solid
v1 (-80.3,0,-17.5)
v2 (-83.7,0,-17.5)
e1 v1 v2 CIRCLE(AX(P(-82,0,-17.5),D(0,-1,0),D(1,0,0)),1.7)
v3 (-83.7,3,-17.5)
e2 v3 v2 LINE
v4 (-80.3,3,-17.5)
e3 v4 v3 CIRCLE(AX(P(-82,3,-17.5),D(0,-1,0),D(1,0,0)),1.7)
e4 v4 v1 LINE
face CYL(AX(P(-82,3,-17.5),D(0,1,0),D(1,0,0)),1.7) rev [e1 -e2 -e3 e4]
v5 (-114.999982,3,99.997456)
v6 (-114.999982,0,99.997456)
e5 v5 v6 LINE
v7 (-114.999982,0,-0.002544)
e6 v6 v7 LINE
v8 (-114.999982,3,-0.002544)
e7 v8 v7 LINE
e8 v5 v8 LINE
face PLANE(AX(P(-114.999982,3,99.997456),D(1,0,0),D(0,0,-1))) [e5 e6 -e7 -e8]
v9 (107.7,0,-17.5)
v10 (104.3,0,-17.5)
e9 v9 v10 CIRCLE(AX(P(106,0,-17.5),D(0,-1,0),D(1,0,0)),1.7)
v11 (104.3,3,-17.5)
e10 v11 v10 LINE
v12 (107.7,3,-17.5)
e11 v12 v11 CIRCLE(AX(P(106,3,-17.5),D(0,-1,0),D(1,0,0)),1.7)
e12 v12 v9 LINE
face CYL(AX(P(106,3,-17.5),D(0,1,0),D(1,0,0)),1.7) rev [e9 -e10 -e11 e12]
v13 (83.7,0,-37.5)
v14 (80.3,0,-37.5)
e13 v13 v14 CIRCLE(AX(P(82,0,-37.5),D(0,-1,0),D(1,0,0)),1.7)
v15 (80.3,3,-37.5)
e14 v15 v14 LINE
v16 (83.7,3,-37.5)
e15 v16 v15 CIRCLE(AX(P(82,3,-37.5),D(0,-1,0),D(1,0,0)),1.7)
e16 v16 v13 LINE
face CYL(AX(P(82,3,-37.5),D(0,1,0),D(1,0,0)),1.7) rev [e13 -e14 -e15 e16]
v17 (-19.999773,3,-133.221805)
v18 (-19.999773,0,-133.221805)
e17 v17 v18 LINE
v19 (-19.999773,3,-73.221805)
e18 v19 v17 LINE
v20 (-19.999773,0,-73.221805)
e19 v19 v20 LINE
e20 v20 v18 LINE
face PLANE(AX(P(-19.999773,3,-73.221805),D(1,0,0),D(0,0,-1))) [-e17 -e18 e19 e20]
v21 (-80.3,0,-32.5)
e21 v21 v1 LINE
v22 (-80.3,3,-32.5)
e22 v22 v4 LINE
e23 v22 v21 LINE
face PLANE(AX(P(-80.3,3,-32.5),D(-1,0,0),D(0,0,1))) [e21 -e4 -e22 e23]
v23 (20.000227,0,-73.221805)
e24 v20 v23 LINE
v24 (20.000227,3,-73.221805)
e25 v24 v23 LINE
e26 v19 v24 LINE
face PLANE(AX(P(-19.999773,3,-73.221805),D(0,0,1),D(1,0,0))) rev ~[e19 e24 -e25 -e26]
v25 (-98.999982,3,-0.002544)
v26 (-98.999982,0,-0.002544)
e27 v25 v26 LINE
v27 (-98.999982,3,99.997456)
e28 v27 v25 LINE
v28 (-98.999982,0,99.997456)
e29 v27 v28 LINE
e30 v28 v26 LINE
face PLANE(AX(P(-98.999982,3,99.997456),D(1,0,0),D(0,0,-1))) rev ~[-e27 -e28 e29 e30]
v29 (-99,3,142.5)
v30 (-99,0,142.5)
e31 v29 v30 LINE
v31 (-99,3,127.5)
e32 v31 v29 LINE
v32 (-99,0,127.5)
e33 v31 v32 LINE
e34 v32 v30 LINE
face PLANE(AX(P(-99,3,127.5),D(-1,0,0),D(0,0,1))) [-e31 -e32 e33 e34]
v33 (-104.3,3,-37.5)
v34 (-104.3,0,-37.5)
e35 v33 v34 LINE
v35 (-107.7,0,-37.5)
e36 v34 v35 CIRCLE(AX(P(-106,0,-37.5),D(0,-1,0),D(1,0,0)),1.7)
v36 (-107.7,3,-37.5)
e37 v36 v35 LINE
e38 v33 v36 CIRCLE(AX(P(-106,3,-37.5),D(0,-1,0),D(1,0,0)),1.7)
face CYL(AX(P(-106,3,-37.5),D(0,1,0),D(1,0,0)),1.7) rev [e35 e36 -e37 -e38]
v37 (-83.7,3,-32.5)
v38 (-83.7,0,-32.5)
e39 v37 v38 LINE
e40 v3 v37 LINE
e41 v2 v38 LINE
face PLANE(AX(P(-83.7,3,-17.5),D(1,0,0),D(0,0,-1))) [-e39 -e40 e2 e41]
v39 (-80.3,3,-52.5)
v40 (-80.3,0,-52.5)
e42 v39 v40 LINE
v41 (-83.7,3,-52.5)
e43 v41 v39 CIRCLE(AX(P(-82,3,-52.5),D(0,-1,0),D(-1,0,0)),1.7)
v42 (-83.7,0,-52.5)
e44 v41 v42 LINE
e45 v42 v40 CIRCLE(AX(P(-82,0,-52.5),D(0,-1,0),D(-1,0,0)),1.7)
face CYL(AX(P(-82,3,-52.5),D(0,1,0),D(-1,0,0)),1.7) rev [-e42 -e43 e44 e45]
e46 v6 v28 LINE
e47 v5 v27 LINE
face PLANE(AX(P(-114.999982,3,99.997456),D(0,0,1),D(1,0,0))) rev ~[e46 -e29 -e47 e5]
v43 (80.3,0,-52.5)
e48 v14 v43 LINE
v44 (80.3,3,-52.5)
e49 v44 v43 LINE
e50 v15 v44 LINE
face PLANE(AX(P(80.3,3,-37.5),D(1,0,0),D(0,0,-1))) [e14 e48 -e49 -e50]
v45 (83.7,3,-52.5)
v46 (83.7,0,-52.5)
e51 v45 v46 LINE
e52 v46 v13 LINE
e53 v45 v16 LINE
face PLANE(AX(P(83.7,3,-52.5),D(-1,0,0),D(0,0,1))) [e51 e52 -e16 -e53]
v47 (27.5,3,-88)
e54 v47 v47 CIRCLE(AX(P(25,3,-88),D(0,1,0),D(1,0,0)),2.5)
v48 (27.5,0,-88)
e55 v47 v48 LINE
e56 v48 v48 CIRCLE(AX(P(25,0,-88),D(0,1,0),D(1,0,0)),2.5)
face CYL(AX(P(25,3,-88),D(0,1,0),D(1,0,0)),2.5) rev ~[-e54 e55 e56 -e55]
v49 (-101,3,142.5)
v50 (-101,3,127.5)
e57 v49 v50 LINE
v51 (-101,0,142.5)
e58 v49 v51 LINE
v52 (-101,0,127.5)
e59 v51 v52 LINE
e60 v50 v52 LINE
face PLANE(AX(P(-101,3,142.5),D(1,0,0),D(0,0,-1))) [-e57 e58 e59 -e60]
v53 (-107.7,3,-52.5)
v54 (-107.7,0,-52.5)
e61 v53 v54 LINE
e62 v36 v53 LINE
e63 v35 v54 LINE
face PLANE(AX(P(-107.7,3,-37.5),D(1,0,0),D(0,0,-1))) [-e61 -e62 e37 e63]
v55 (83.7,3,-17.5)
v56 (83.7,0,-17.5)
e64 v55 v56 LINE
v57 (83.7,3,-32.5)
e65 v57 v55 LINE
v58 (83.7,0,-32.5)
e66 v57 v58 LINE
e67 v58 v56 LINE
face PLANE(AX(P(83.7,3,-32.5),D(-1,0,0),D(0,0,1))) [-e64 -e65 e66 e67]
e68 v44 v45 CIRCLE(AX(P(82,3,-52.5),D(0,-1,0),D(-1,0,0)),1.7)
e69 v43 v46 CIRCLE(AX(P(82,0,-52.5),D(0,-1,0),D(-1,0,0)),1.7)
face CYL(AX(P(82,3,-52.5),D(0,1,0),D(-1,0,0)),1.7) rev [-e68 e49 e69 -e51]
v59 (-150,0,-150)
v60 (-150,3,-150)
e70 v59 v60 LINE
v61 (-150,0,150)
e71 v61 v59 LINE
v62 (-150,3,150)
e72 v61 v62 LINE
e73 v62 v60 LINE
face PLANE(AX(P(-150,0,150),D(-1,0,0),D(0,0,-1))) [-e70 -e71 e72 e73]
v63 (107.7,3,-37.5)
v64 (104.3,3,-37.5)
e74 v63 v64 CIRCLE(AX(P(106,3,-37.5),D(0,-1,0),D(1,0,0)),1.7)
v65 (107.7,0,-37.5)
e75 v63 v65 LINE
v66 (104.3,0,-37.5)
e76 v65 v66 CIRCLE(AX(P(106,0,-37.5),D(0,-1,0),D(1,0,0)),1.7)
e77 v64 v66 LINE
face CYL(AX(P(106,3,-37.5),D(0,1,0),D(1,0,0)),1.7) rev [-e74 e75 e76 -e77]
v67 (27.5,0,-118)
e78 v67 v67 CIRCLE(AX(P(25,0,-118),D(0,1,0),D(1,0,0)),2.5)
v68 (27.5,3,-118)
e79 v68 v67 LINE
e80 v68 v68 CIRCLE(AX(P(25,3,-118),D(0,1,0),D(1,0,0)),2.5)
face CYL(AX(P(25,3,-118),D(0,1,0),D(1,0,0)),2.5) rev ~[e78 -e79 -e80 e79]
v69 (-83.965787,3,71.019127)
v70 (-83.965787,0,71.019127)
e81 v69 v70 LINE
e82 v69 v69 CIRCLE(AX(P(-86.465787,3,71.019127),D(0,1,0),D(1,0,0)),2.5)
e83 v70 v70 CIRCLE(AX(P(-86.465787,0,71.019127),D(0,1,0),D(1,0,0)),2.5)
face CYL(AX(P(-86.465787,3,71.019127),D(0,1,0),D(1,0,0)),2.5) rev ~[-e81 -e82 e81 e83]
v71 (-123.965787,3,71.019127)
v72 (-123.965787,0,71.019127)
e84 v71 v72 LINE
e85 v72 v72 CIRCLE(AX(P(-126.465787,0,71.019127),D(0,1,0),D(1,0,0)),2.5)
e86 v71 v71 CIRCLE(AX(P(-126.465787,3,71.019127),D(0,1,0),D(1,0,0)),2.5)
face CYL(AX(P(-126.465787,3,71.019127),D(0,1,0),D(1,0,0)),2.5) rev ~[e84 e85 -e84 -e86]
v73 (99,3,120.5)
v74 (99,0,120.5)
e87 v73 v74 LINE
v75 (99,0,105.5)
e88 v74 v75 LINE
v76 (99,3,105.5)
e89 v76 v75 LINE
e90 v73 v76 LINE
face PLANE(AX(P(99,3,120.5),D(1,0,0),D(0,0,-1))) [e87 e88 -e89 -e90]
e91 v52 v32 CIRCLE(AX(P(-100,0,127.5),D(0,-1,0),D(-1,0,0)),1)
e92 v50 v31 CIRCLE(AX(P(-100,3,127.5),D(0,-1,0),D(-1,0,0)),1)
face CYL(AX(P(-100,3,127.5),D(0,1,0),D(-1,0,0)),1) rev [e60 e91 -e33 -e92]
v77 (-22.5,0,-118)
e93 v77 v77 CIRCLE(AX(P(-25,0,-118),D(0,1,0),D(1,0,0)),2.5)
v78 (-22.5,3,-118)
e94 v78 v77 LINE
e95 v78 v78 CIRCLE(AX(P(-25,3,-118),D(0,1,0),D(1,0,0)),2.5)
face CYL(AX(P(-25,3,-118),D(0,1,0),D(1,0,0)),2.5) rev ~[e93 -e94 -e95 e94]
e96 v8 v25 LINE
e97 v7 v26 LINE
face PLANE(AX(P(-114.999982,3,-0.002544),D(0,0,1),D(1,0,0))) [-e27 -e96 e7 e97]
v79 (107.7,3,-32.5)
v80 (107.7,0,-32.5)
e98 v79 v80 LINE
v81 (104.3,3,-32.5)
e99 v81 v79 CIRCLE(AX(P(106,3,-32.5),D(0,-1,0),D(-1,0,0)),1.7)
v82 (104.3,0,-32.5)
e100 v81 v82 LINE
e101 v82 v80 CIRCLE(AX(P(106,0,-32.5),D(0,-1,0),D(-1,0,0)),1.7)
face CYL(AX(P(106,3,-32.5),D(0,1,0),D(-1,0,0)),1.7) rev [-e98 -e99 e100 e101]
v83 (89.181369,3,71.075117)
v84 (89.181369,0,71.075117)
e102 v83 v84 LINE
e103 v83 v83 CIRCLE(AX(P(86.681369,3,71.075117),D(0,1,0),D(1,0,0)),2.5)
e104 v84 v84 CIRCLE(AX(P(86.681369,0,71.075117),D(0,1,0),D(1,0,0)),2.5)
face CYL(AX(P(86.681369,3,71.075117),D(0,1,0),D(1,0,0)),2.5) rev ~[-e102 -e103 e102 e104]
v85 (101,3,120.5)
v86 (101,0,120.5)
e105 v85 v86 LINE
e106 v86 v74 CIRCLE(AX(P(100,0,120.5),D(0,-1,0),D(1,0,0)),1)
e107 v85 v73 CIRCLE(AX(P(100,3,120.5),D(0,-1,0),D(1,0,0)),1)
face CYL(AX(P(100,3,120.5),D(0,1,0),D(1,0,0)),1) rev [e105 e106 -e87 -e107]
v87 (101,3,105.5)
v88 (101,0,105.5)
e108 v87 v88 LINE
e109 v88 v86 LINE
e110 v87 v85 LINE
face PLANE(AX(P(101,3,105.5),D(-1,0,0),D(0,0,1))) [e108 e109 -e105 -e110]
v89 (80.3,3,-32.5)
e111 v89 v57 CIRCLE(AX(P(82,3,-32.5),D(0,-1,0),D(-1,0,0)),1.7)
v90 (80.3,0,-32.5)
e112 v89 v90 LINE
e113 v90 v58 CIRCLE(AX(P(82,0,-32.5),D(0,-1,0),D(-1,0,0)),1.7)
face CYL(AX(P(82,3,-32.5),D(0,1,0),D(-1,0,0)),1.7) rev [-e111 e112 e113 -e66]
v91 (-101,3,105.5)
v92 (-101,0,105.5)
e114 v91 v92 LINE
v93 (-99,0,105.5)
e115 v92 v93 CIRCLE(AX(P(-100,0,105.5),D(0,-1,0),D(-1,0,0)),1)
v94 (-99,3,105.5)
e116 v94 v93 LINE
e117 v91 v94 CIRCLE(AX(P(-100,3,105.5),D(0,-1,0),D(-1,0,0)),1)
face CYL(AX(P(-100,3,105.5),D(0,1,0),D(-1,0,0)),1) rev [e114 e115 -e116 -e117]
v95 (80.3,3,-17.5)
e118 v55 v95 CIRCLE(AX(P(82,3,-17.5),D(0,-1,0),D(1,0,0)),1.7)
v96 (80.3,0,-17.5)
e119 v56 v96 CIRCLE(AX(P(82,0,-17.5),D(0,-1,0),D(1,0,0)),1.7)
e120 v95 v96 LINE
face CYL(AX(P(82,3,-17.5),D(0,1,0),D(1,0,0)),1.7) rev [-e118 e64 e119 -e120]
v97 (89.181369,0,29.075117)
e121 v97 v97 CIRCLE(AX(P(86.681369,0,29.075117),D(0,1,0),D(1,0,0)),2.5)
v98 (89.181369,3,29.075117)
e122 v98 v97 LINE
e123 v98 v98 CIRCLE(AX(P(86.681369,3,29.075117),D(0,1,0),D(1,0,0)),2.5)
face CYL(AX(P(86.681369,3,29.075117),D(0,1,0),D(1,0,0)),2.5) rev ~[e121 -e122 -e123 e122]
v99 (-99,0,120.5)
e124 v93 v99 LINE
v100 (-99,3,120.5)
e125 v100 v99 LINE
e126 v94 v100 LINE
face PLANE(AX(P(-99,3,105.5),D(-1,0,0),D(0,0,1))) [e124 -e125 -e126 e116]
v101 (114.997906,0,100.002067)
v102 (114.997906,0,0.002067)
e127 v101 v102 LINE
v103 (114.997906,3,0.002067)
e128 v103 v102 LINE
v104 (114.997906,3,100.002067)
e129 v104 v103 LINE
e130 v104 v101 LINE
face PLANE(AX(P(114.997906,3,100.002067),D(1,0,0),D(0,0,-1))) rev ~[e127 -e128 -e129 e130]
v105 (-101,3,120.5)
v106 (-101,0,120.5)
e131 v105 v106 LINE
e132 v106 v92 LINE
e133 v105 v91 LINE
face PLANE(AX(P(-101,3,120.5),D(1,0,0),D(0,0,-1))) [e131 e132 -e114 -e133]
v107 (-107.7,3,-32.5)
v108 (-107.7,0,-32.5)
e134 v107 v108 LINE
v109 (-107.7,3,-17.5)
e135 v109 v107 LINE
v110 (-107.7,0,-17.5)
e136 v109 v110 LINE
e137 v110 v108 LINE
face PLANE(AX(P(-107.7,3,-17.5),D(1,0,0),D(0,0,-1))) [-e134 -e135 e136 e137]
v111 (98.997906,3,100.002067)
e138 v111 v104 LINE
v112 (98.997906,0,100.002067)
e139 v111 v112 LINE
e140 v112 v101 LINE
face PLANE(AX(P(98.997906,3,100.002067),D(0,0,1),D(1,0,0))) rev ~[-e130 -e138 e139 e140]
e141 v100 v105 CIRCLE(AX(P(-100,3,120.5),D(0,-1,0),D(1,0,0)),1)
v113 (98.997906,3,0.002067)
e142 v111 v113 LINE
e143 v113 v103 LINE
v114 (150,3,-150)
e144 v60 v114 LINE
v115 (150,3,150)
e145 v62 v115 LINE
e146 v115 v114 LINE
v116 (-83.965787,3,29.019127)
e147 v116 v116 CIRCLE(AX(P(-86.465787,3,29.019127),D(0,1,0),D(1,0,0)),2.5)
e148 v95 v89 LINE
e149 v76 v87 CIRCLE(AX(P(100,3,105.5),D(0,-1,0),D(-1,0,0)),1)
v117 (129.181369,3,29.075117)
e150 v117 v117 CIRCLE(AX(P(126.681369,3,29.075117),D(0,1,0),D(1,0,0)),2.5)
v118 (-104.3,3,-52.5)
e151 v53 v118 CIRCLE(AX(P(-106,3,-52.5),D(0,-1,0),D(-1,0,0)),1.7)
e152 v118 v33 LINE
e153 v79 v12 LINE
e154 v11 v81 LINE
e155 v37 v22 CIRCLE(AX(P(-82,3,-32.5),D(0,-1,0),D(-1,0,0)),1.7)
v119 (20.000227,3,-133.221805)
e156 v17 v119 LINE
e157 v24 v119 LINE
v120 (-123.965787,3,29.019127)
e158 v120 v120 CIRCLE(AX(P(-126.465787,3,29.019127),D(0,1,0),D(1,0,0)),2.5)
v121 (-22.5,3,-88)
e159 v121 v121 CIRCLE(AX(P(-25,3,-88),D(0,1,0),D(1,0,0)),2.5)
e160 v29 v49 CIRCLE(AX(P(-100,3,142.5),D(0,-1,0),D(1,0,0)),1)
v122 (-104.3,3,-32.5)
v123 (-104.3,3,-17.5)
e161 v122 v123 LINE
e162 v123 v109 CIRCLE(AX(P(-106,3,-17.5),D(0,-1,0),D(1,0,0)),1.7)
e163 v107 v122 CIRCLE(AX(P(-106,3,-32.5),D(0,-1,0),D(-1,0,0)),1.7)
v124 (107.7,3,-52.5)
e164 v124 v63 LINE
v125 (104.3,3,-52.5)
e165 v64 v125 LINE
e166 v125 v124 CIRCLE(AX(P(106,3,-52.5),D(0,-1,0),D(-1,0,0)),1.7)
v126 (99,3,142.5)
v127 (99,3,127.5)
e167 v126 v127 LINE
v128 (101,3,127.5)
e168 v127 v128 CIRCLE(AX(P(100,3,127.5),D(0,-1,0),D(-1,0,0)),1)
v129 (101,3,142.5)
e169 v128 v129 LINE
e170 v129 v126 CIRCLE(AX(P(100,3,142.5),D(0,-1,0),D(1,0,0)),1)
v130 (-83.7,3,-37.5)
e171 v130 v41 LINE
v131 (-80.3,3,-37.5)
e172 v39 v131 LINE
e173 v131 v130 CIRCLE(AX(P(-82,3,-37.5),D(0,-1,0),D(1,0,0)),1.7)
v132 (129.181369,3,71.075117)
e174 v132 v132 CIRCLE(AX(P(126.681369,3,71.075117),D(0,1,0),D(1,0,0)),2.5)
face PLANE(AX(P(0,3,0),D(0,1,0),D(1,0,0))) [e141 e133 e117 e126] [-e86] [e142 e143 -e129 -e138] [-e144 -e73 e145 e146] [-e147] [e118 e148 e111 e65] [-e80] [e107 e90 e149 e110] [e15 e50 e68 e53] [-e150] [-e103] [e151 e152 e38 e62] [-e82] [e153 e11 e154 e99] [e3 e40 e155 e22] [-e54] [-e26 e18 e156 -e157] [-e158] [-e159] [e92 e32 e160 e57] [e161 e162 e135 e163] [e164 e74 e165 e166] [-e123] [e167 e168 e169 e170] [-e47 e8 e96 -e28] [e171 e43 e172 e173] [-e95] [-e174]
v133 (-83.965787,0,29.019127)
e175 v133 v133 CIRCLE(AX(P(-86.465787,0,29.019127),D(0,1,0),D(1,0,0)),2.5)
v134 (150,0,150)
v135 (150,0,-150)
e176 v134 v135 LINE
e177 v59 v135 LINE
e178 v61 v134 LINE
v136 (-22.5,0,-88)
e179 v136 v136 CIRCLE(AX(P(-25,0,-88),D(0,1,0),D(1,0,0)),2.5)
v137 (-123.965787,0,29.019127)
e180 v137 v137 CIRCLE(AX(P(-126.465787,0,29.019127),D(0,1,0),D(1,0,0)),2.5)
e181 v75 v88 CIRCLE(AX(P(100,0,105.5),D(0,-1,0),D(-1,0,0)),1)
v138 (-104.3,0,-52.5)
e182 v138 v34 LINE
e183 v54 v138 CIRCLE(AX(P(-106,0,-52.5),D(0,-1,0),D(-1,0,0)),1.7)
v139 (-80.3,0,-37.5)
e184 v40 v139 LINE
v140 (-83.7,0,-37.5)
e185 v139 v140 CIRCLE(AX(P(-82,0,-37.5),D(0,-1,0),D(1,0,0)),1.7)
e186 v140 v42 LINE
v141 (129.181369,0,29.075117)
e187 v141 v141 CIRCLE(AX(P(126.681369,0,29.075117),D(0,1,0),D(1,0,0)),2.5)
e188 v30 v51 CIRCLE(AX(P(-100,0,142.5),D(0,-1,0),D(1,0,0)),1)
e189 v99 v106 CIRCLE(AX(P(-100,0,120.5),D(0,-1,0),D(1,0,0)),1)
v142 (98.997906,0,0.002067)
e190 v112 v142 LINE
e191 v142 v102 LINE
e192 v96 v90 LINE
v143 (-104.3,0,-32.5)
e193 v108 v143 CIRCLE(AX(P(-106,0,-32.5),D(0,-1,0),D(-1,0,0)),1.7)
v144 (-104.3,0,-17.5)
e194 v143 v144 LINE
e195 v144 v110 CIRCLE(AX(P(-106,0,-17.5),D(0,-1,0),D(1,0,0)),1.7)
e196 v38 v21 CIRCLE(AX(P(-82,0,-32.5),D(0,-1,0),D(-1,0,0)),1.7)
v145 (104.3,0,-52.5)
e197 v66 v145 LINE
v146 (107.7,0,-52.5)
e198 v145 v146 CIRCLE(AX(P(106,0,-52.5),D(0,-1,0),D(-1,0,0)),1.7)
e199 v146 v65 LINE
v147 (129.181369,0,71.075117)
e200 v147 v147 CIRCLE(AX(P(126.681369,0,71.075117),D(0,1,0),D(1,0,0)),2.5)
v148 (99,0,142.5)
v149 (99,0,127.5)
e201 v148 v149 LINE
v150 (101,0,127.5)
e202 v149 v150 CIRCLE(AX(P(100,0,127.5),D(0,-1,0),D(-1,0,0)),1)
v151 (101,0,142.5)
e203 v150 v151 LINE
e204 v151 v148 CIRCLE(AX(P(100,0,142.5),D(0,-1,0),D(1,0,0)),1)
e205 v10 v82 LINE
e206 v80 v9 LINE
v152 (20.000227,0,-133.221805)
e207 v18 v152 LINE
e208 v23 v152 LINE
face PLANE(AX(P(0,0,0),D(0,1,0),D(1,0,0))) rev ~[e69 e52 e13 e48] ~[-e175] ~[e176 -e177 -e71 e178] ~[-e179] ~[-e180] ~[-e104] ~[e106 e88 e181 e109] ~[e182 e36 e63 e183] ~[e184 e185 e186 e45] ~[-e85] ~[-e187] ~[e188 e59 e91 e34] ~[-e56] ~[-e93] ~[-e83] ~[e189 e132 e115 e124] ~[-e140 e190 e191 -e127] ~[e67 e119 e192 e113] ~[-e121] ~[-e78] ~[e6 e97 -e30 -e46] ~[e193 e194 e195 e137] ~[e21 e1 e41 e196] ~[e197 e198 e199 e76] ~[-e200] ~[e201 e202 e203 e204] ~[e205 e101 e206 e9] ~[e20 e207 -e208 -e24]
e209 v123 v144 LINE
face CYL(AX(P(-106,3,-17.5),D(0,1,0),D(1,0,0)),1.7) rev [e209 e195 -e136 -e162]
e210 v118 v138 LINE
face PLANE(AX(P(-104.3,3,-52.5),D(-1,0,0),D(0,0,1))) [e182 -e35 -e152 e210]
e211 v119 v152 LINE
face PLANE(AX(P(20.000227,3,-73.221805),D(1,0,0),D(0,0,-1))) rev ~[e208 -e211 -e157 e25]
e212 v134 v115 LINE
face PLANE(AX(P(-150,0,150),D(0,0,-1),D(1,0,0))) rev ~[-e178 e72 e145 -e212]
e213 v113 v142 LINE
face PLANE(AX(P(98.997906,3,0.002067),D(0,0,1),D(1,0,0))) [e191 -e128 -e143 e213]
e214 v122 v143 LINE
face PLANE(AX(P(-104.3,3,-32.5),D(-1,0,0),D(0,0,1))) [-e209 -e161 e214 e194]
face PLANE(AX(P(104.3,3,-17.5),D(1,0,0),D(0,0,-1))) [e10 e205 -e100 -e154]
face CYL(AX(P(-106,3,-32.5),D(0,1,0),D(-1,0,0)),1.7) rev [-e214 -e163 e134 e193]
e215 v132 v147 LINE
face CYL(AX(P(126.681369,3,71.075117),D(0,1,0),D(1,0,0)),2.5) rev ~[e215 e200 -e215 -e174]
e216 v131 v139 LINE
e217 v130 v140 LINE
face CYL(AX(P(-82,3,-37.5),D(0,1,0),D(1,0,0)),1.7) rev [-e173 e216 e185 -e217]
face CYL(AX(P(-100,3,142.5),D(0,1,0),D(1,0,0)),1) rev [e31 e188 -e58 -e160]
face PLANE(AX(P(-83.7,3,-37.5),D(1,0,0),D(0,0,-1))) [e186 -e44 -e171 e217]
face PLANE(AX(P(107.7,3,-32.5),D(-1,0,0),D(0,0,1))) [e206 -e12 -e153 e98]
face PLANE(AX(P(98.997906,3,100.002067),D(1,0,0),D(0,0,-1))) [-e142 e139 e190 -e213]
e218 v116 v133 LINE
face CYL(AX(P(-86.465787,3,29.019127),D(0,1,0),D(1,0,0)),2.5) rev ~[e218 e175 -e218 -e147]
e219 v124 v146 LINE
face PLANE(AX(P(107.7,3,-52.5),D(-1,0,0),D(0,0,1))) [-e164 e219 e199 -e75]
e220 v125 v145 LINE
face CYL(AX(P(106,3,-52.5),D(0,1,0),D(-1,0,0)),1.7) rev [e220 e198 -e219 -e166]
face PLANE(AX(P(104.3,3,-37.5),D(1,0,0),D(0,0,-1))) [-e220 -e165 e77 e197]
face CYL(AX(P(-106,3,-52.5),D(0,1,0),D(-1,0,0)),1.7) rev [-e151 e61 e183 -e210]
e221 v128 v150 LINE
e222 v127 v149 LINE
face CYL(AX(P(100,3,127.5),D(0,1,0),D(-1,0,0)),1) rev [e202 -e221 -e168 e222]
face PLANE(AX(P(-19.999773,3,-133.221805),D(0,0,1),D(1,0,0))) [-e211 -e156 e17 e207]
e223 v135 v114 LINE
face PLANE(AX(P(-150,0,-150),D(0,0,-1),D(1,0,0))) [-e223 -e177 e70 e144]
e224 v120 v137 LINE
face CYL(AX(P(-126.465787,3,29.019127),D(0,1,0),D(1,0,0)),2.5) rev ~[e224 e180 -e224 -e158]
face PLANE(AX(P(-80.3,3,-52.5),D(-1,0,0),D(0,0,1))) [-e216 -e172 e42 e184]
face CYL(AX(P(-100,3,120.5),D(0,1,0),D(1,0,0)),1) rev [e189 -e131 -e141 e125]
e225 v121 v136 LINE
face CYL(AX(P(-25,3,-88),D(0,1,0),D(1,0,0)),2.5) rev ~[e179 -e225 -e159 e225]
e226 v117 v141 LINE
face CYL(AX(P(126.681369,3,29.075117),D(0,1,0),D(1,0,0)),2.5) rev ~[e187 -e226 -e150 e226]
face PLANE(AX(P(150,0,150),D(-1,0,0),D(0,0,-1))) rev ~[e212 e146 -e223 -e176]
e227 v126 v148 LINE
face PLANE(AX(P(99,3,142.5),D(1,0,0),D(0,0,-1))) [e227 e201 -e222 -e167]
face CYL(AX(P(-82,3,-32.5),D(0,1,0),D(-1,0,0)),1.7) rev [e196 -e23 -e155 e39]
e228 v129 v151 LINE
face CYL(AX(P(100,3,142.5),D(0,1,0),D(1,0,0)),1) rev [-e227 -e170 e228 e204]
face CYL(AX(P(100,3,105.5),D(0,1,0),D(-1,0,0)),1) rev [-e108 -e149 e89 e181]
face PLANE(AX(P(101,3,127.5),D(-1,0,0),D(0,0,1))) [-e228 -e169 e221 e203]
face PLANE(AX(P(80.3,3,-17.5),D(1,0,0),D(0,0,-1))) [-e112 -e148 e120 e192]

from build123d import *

# Parameters (mm, degrees)
SKETCH1_W           = 300
SKETCH1_H           = 300
BOSS_EXTRUDE1_DEPTH = 3
SKETCH2_W           = 16
SKETCH2_H           = 100
CUT_EXTRUDE2_DEPTH  = 3
SKETCH3_W           = 16
SKETCH3_H           = 100
CUT_EXTRUDE3_DEPTH  = 3
SKETCH5_W           = 40
SKETCH5_H           = 60
CUT_EXTRUDE4_DEPTH  = 3
SKETCH6_R           = 2.5
CUT_EXTRUDE5_DEPTH  = 3
CUT_EXTRUDE6_DEPTH  = 3
CUT_EXTRUDE7_DEPTH  = 3


with BuildPart() as part:
    # Sketch1 → Boss-Extrude1 (new body)
    with BuildSketch(Plane(origin=(0, 0, 0), x_dir=(1, 0, 0), z_dir=(0, 1, 0))):
        Rectangle(SKETCH1_W, SKETCH1_H)
    extrude(amount=BOSS_EXTRUDE1_DEPTH)

    # Sketch2 → Cut-Extrude2 (cut)
    with BuildSketch(Plane(origin=(0, 3, 0), x_dir=(1, 0, 0), z_dir=(0, 1, 0))):
        with Locations((-106.999981758, -49.997456266)):
            Rectangle(SKETCH2_W, SKETCH2_H)
    extrude(amount=-CUT_EXTRUDE2_DEPTH, mode=Mode.SUBTRACT)

    # Sketch3 → Cut-Extrude3 (cut)
    with BuildSketch(Plane(origin=(0, 3, 0), x_dir=(1, 0, 0), z_dir=(0, 1, 0))):
        with Locations((106.997905593, -50.002067411)):
            Rectangle(SKETCH3_W, SKETCH3_H)
    extrude(amount=-CUT_EXTRUDE3_DEPTH, mode=Mode.SUBTRACT)

    # Sketch5 → Cut-Extrude4 (cut)
    with BuildSketch(Plane(origin=(0, 3, 0), x_dir=(1, 0, 0), z_dir=(0, 1, 0))):
        with Locations((0.000226616, 103.221805272)):
            Rectangle(SKETCH5_W, SKETCH5_H)
    extrude(amount=-CUT_EXTRUDE4_DEPTH, mode=Mode.SUBTRACT)

    # Sketch6 → Cut-Extrude5 (cut)
    with BuildSketch(Plane(origin=(0, 3, 0), x_dir=(1, 0, 0), z_dir=(0, 1, 0))):
        with Locations((-126.465787007, -29.019127059)):
            Circle(SKETCH6_R)
        with Locations((-86.465787007, -29.019127059)):
            Circle(SKETCH6_R)
        with Locations((-126.465787007, -71.019127059)):
            Circle(SKETCH6_R)
        with Locations((-86.465787007, -71.019127059)):
            Circle(SKETCH6_R)
        with Locations((86.681368776, -29.075116819)):
            Circle(SKETCH6_R)
        with Locations((86.681368776, -71.075116819)):
            Circle(SKETCH6_R)
        with Locations((126.681368776, -29.075116819)):
            Circle(SKETCH6_R)
        with Locations((126.681368776, -71.075116819)):
            Circle(SKETCH6_R)
        with Locations((-25, 118)):
            Circle(SKETCH6_R)
        with Locations((-25, 88)):
            Circle(SKETCH6_R)
        with Locations((25, 118)):
            Circle(SKETCH6_R)
        with Locations((25, 88)):
            Circle(SKETCH6_R)
    extrude(amount=-CUT_EXTRUDE5_DEPTH, mode=Mode.SUBTRACT)

    # Sketch7 → Cut-Extrude6 (cut)
    with BuildSketch(Plane(origin=(0, 3, 0), x_dir=(1, 0, 0), z_dir=(0, 1, 0))):
        with BuildLine():
            Line((-104.3, 52.5), (-104.3, 37.5))
            ThreePointArc((-104.3, 37.5), (-106, 35.8), (-107.7, 37.5))
            Line((-107.7, 37.5), (-107.7, 52.5))
            ThreePointArc((-107.7, 52.5), (-106, 54.2), (-104.3, 52.5))
        make_face()
        with BuildLine():
            Line((-104.3, 32.5), (-104.3, 17.5))
            ThreePointArc((-104.3, 17.5), (-106, 15.8), (-107.7, 17.5))
            Line((-107.7, 17.5), (-107.7, 32.5))
            ThreePointArc((-107.7, 32.5), (-106, 34.2), (-104.3, 32.5))
        make_face()
        with BuildLine():
            Line((-80.3, 52.5), (-80.3, 37.5))
            ThreePointArc((-80.3, 37.5), (-82, 35.8), (-83.7, 37.5))
            Line((-83.7, 37.5), (-83.7, 52.5))
            ThreePointArc((-83.7, 52.5), (-82, 54.2), (-80.3, 52.5))
        make_face()
        with BuildLine():
            Line((-80.3, 32.5), (-80.3, 17.5))
            ThreePointArc((-80.3, 17.5), (-82, 15.8), (-83.7, 17.5))
            Line((-83.7, 17.5), (-83.7, 32.5))
            ThreePointArc((-83.7, 32.5), (-82, 34.2), (-80.3, 32.5))
        make_face()
        with BuildLine():
            Line((83.7, 52.5), (83.7, 37.5))
            ThreePointArc((83.7, 37.5), (82, 35.8), (80.3, 37.5))
            Line((80.3, 37.5), (80.3, 52.5))
            ThreePointArc((80.3, 52.5), (82, 54.2), (83.7, 52.5))
        make_face()
        with BuildLine():
            Line((83.7, 32.5), (83.7, 17.5))
            ThreePointArc((83.7, 17.5), (82, 15.8), (80.3, 17.5))
            Line((80.3, 17.5), (80.3, 32.5))
            ThreePointArc((80.3, 32.5), (82, 34.2), (83.7, 32.5))
        make_face()
        with BuildLine():
            Line((107.7, 52.5), (107.7, 37.5))
            ThreePointArc((107.7, 37.5), (106, 35.8), (104.3, 37.5))
            Line((104.3, 37.5), (104.3, 52.5))
            ThreePointArc((104.3, 52.5), (106, 54.2), (107.7, 52.5))
        make_face()
        with BuildLine():
            Line((107.7, 32.5), (107.7, 17.5))
            ThreePointArc((107.7, 17.5), (106, 15.8), (104.3, 17.5))
            Line((104.3, 17.5), (104.3, 32.5))
            ThreePointArc((104.3, 32.5), (106, 34.2), (107.7, 32.5))
        make_face()
    extrude(amount=-CUT_EXTRUDE6_DEPTH, mode=Mode.SUBTRACT)

    # Sketch8 → Cut-Extrude7 (cut)
    with BuildSketch(Plane(origin=(0, 3, 0), x_dir=(1, 0, 0), z_dir=(0, 1, 0))):
        with BuildLine():
            Line((-99, -105.5), (-99, -120.5))
            ThreePointArc((-99, -120.5), (-100, -121.5), (-101, -120.5))
            Line((-101, -120.5), (-101, -105.5))
            ThreePointArc((-101, -105.5), (-100, -104.5), (-99, -105.5))
        make_face()
        with BuildLine():
            Line((-99, -127.5), (-99, -142.5))
            ThreePointArc((-99, -142.5), (-100, -143.5), (-101, -142.5))
            Line((-101, -142.5), (-101, -127.5))
            ThreePointArc((-101, -127.5), (-100, -126.5), (-99, -127.5))
        make_face()
        with BuildLine():
            Line((101, -105.5), (101, -120.5))
            ThreePointArc((101, -120.5), (100, -121.5), (99, -120.5))
            Line((99, -120.5), (99, -105.5))
            ThreePointArc((99, -105.5), (100, -104.5), (101, -105.5))
        make_face()
        with BuildLine():
            Line((101, -127.5), (101, -142.5))
            ThreePointArc((101, -142.5), (100, -143.5), (99, -142.5))
            Line((99, -142.5), (99, -127.5))
            ThreePointArc((99, -127.5), (100, -126.5), (101, -127.5))
        make_face()
    extrude(amount=-CUT_EXTRUDE7_DEPTH, mode=Mode.SUBTRACT)


solid = part.part
